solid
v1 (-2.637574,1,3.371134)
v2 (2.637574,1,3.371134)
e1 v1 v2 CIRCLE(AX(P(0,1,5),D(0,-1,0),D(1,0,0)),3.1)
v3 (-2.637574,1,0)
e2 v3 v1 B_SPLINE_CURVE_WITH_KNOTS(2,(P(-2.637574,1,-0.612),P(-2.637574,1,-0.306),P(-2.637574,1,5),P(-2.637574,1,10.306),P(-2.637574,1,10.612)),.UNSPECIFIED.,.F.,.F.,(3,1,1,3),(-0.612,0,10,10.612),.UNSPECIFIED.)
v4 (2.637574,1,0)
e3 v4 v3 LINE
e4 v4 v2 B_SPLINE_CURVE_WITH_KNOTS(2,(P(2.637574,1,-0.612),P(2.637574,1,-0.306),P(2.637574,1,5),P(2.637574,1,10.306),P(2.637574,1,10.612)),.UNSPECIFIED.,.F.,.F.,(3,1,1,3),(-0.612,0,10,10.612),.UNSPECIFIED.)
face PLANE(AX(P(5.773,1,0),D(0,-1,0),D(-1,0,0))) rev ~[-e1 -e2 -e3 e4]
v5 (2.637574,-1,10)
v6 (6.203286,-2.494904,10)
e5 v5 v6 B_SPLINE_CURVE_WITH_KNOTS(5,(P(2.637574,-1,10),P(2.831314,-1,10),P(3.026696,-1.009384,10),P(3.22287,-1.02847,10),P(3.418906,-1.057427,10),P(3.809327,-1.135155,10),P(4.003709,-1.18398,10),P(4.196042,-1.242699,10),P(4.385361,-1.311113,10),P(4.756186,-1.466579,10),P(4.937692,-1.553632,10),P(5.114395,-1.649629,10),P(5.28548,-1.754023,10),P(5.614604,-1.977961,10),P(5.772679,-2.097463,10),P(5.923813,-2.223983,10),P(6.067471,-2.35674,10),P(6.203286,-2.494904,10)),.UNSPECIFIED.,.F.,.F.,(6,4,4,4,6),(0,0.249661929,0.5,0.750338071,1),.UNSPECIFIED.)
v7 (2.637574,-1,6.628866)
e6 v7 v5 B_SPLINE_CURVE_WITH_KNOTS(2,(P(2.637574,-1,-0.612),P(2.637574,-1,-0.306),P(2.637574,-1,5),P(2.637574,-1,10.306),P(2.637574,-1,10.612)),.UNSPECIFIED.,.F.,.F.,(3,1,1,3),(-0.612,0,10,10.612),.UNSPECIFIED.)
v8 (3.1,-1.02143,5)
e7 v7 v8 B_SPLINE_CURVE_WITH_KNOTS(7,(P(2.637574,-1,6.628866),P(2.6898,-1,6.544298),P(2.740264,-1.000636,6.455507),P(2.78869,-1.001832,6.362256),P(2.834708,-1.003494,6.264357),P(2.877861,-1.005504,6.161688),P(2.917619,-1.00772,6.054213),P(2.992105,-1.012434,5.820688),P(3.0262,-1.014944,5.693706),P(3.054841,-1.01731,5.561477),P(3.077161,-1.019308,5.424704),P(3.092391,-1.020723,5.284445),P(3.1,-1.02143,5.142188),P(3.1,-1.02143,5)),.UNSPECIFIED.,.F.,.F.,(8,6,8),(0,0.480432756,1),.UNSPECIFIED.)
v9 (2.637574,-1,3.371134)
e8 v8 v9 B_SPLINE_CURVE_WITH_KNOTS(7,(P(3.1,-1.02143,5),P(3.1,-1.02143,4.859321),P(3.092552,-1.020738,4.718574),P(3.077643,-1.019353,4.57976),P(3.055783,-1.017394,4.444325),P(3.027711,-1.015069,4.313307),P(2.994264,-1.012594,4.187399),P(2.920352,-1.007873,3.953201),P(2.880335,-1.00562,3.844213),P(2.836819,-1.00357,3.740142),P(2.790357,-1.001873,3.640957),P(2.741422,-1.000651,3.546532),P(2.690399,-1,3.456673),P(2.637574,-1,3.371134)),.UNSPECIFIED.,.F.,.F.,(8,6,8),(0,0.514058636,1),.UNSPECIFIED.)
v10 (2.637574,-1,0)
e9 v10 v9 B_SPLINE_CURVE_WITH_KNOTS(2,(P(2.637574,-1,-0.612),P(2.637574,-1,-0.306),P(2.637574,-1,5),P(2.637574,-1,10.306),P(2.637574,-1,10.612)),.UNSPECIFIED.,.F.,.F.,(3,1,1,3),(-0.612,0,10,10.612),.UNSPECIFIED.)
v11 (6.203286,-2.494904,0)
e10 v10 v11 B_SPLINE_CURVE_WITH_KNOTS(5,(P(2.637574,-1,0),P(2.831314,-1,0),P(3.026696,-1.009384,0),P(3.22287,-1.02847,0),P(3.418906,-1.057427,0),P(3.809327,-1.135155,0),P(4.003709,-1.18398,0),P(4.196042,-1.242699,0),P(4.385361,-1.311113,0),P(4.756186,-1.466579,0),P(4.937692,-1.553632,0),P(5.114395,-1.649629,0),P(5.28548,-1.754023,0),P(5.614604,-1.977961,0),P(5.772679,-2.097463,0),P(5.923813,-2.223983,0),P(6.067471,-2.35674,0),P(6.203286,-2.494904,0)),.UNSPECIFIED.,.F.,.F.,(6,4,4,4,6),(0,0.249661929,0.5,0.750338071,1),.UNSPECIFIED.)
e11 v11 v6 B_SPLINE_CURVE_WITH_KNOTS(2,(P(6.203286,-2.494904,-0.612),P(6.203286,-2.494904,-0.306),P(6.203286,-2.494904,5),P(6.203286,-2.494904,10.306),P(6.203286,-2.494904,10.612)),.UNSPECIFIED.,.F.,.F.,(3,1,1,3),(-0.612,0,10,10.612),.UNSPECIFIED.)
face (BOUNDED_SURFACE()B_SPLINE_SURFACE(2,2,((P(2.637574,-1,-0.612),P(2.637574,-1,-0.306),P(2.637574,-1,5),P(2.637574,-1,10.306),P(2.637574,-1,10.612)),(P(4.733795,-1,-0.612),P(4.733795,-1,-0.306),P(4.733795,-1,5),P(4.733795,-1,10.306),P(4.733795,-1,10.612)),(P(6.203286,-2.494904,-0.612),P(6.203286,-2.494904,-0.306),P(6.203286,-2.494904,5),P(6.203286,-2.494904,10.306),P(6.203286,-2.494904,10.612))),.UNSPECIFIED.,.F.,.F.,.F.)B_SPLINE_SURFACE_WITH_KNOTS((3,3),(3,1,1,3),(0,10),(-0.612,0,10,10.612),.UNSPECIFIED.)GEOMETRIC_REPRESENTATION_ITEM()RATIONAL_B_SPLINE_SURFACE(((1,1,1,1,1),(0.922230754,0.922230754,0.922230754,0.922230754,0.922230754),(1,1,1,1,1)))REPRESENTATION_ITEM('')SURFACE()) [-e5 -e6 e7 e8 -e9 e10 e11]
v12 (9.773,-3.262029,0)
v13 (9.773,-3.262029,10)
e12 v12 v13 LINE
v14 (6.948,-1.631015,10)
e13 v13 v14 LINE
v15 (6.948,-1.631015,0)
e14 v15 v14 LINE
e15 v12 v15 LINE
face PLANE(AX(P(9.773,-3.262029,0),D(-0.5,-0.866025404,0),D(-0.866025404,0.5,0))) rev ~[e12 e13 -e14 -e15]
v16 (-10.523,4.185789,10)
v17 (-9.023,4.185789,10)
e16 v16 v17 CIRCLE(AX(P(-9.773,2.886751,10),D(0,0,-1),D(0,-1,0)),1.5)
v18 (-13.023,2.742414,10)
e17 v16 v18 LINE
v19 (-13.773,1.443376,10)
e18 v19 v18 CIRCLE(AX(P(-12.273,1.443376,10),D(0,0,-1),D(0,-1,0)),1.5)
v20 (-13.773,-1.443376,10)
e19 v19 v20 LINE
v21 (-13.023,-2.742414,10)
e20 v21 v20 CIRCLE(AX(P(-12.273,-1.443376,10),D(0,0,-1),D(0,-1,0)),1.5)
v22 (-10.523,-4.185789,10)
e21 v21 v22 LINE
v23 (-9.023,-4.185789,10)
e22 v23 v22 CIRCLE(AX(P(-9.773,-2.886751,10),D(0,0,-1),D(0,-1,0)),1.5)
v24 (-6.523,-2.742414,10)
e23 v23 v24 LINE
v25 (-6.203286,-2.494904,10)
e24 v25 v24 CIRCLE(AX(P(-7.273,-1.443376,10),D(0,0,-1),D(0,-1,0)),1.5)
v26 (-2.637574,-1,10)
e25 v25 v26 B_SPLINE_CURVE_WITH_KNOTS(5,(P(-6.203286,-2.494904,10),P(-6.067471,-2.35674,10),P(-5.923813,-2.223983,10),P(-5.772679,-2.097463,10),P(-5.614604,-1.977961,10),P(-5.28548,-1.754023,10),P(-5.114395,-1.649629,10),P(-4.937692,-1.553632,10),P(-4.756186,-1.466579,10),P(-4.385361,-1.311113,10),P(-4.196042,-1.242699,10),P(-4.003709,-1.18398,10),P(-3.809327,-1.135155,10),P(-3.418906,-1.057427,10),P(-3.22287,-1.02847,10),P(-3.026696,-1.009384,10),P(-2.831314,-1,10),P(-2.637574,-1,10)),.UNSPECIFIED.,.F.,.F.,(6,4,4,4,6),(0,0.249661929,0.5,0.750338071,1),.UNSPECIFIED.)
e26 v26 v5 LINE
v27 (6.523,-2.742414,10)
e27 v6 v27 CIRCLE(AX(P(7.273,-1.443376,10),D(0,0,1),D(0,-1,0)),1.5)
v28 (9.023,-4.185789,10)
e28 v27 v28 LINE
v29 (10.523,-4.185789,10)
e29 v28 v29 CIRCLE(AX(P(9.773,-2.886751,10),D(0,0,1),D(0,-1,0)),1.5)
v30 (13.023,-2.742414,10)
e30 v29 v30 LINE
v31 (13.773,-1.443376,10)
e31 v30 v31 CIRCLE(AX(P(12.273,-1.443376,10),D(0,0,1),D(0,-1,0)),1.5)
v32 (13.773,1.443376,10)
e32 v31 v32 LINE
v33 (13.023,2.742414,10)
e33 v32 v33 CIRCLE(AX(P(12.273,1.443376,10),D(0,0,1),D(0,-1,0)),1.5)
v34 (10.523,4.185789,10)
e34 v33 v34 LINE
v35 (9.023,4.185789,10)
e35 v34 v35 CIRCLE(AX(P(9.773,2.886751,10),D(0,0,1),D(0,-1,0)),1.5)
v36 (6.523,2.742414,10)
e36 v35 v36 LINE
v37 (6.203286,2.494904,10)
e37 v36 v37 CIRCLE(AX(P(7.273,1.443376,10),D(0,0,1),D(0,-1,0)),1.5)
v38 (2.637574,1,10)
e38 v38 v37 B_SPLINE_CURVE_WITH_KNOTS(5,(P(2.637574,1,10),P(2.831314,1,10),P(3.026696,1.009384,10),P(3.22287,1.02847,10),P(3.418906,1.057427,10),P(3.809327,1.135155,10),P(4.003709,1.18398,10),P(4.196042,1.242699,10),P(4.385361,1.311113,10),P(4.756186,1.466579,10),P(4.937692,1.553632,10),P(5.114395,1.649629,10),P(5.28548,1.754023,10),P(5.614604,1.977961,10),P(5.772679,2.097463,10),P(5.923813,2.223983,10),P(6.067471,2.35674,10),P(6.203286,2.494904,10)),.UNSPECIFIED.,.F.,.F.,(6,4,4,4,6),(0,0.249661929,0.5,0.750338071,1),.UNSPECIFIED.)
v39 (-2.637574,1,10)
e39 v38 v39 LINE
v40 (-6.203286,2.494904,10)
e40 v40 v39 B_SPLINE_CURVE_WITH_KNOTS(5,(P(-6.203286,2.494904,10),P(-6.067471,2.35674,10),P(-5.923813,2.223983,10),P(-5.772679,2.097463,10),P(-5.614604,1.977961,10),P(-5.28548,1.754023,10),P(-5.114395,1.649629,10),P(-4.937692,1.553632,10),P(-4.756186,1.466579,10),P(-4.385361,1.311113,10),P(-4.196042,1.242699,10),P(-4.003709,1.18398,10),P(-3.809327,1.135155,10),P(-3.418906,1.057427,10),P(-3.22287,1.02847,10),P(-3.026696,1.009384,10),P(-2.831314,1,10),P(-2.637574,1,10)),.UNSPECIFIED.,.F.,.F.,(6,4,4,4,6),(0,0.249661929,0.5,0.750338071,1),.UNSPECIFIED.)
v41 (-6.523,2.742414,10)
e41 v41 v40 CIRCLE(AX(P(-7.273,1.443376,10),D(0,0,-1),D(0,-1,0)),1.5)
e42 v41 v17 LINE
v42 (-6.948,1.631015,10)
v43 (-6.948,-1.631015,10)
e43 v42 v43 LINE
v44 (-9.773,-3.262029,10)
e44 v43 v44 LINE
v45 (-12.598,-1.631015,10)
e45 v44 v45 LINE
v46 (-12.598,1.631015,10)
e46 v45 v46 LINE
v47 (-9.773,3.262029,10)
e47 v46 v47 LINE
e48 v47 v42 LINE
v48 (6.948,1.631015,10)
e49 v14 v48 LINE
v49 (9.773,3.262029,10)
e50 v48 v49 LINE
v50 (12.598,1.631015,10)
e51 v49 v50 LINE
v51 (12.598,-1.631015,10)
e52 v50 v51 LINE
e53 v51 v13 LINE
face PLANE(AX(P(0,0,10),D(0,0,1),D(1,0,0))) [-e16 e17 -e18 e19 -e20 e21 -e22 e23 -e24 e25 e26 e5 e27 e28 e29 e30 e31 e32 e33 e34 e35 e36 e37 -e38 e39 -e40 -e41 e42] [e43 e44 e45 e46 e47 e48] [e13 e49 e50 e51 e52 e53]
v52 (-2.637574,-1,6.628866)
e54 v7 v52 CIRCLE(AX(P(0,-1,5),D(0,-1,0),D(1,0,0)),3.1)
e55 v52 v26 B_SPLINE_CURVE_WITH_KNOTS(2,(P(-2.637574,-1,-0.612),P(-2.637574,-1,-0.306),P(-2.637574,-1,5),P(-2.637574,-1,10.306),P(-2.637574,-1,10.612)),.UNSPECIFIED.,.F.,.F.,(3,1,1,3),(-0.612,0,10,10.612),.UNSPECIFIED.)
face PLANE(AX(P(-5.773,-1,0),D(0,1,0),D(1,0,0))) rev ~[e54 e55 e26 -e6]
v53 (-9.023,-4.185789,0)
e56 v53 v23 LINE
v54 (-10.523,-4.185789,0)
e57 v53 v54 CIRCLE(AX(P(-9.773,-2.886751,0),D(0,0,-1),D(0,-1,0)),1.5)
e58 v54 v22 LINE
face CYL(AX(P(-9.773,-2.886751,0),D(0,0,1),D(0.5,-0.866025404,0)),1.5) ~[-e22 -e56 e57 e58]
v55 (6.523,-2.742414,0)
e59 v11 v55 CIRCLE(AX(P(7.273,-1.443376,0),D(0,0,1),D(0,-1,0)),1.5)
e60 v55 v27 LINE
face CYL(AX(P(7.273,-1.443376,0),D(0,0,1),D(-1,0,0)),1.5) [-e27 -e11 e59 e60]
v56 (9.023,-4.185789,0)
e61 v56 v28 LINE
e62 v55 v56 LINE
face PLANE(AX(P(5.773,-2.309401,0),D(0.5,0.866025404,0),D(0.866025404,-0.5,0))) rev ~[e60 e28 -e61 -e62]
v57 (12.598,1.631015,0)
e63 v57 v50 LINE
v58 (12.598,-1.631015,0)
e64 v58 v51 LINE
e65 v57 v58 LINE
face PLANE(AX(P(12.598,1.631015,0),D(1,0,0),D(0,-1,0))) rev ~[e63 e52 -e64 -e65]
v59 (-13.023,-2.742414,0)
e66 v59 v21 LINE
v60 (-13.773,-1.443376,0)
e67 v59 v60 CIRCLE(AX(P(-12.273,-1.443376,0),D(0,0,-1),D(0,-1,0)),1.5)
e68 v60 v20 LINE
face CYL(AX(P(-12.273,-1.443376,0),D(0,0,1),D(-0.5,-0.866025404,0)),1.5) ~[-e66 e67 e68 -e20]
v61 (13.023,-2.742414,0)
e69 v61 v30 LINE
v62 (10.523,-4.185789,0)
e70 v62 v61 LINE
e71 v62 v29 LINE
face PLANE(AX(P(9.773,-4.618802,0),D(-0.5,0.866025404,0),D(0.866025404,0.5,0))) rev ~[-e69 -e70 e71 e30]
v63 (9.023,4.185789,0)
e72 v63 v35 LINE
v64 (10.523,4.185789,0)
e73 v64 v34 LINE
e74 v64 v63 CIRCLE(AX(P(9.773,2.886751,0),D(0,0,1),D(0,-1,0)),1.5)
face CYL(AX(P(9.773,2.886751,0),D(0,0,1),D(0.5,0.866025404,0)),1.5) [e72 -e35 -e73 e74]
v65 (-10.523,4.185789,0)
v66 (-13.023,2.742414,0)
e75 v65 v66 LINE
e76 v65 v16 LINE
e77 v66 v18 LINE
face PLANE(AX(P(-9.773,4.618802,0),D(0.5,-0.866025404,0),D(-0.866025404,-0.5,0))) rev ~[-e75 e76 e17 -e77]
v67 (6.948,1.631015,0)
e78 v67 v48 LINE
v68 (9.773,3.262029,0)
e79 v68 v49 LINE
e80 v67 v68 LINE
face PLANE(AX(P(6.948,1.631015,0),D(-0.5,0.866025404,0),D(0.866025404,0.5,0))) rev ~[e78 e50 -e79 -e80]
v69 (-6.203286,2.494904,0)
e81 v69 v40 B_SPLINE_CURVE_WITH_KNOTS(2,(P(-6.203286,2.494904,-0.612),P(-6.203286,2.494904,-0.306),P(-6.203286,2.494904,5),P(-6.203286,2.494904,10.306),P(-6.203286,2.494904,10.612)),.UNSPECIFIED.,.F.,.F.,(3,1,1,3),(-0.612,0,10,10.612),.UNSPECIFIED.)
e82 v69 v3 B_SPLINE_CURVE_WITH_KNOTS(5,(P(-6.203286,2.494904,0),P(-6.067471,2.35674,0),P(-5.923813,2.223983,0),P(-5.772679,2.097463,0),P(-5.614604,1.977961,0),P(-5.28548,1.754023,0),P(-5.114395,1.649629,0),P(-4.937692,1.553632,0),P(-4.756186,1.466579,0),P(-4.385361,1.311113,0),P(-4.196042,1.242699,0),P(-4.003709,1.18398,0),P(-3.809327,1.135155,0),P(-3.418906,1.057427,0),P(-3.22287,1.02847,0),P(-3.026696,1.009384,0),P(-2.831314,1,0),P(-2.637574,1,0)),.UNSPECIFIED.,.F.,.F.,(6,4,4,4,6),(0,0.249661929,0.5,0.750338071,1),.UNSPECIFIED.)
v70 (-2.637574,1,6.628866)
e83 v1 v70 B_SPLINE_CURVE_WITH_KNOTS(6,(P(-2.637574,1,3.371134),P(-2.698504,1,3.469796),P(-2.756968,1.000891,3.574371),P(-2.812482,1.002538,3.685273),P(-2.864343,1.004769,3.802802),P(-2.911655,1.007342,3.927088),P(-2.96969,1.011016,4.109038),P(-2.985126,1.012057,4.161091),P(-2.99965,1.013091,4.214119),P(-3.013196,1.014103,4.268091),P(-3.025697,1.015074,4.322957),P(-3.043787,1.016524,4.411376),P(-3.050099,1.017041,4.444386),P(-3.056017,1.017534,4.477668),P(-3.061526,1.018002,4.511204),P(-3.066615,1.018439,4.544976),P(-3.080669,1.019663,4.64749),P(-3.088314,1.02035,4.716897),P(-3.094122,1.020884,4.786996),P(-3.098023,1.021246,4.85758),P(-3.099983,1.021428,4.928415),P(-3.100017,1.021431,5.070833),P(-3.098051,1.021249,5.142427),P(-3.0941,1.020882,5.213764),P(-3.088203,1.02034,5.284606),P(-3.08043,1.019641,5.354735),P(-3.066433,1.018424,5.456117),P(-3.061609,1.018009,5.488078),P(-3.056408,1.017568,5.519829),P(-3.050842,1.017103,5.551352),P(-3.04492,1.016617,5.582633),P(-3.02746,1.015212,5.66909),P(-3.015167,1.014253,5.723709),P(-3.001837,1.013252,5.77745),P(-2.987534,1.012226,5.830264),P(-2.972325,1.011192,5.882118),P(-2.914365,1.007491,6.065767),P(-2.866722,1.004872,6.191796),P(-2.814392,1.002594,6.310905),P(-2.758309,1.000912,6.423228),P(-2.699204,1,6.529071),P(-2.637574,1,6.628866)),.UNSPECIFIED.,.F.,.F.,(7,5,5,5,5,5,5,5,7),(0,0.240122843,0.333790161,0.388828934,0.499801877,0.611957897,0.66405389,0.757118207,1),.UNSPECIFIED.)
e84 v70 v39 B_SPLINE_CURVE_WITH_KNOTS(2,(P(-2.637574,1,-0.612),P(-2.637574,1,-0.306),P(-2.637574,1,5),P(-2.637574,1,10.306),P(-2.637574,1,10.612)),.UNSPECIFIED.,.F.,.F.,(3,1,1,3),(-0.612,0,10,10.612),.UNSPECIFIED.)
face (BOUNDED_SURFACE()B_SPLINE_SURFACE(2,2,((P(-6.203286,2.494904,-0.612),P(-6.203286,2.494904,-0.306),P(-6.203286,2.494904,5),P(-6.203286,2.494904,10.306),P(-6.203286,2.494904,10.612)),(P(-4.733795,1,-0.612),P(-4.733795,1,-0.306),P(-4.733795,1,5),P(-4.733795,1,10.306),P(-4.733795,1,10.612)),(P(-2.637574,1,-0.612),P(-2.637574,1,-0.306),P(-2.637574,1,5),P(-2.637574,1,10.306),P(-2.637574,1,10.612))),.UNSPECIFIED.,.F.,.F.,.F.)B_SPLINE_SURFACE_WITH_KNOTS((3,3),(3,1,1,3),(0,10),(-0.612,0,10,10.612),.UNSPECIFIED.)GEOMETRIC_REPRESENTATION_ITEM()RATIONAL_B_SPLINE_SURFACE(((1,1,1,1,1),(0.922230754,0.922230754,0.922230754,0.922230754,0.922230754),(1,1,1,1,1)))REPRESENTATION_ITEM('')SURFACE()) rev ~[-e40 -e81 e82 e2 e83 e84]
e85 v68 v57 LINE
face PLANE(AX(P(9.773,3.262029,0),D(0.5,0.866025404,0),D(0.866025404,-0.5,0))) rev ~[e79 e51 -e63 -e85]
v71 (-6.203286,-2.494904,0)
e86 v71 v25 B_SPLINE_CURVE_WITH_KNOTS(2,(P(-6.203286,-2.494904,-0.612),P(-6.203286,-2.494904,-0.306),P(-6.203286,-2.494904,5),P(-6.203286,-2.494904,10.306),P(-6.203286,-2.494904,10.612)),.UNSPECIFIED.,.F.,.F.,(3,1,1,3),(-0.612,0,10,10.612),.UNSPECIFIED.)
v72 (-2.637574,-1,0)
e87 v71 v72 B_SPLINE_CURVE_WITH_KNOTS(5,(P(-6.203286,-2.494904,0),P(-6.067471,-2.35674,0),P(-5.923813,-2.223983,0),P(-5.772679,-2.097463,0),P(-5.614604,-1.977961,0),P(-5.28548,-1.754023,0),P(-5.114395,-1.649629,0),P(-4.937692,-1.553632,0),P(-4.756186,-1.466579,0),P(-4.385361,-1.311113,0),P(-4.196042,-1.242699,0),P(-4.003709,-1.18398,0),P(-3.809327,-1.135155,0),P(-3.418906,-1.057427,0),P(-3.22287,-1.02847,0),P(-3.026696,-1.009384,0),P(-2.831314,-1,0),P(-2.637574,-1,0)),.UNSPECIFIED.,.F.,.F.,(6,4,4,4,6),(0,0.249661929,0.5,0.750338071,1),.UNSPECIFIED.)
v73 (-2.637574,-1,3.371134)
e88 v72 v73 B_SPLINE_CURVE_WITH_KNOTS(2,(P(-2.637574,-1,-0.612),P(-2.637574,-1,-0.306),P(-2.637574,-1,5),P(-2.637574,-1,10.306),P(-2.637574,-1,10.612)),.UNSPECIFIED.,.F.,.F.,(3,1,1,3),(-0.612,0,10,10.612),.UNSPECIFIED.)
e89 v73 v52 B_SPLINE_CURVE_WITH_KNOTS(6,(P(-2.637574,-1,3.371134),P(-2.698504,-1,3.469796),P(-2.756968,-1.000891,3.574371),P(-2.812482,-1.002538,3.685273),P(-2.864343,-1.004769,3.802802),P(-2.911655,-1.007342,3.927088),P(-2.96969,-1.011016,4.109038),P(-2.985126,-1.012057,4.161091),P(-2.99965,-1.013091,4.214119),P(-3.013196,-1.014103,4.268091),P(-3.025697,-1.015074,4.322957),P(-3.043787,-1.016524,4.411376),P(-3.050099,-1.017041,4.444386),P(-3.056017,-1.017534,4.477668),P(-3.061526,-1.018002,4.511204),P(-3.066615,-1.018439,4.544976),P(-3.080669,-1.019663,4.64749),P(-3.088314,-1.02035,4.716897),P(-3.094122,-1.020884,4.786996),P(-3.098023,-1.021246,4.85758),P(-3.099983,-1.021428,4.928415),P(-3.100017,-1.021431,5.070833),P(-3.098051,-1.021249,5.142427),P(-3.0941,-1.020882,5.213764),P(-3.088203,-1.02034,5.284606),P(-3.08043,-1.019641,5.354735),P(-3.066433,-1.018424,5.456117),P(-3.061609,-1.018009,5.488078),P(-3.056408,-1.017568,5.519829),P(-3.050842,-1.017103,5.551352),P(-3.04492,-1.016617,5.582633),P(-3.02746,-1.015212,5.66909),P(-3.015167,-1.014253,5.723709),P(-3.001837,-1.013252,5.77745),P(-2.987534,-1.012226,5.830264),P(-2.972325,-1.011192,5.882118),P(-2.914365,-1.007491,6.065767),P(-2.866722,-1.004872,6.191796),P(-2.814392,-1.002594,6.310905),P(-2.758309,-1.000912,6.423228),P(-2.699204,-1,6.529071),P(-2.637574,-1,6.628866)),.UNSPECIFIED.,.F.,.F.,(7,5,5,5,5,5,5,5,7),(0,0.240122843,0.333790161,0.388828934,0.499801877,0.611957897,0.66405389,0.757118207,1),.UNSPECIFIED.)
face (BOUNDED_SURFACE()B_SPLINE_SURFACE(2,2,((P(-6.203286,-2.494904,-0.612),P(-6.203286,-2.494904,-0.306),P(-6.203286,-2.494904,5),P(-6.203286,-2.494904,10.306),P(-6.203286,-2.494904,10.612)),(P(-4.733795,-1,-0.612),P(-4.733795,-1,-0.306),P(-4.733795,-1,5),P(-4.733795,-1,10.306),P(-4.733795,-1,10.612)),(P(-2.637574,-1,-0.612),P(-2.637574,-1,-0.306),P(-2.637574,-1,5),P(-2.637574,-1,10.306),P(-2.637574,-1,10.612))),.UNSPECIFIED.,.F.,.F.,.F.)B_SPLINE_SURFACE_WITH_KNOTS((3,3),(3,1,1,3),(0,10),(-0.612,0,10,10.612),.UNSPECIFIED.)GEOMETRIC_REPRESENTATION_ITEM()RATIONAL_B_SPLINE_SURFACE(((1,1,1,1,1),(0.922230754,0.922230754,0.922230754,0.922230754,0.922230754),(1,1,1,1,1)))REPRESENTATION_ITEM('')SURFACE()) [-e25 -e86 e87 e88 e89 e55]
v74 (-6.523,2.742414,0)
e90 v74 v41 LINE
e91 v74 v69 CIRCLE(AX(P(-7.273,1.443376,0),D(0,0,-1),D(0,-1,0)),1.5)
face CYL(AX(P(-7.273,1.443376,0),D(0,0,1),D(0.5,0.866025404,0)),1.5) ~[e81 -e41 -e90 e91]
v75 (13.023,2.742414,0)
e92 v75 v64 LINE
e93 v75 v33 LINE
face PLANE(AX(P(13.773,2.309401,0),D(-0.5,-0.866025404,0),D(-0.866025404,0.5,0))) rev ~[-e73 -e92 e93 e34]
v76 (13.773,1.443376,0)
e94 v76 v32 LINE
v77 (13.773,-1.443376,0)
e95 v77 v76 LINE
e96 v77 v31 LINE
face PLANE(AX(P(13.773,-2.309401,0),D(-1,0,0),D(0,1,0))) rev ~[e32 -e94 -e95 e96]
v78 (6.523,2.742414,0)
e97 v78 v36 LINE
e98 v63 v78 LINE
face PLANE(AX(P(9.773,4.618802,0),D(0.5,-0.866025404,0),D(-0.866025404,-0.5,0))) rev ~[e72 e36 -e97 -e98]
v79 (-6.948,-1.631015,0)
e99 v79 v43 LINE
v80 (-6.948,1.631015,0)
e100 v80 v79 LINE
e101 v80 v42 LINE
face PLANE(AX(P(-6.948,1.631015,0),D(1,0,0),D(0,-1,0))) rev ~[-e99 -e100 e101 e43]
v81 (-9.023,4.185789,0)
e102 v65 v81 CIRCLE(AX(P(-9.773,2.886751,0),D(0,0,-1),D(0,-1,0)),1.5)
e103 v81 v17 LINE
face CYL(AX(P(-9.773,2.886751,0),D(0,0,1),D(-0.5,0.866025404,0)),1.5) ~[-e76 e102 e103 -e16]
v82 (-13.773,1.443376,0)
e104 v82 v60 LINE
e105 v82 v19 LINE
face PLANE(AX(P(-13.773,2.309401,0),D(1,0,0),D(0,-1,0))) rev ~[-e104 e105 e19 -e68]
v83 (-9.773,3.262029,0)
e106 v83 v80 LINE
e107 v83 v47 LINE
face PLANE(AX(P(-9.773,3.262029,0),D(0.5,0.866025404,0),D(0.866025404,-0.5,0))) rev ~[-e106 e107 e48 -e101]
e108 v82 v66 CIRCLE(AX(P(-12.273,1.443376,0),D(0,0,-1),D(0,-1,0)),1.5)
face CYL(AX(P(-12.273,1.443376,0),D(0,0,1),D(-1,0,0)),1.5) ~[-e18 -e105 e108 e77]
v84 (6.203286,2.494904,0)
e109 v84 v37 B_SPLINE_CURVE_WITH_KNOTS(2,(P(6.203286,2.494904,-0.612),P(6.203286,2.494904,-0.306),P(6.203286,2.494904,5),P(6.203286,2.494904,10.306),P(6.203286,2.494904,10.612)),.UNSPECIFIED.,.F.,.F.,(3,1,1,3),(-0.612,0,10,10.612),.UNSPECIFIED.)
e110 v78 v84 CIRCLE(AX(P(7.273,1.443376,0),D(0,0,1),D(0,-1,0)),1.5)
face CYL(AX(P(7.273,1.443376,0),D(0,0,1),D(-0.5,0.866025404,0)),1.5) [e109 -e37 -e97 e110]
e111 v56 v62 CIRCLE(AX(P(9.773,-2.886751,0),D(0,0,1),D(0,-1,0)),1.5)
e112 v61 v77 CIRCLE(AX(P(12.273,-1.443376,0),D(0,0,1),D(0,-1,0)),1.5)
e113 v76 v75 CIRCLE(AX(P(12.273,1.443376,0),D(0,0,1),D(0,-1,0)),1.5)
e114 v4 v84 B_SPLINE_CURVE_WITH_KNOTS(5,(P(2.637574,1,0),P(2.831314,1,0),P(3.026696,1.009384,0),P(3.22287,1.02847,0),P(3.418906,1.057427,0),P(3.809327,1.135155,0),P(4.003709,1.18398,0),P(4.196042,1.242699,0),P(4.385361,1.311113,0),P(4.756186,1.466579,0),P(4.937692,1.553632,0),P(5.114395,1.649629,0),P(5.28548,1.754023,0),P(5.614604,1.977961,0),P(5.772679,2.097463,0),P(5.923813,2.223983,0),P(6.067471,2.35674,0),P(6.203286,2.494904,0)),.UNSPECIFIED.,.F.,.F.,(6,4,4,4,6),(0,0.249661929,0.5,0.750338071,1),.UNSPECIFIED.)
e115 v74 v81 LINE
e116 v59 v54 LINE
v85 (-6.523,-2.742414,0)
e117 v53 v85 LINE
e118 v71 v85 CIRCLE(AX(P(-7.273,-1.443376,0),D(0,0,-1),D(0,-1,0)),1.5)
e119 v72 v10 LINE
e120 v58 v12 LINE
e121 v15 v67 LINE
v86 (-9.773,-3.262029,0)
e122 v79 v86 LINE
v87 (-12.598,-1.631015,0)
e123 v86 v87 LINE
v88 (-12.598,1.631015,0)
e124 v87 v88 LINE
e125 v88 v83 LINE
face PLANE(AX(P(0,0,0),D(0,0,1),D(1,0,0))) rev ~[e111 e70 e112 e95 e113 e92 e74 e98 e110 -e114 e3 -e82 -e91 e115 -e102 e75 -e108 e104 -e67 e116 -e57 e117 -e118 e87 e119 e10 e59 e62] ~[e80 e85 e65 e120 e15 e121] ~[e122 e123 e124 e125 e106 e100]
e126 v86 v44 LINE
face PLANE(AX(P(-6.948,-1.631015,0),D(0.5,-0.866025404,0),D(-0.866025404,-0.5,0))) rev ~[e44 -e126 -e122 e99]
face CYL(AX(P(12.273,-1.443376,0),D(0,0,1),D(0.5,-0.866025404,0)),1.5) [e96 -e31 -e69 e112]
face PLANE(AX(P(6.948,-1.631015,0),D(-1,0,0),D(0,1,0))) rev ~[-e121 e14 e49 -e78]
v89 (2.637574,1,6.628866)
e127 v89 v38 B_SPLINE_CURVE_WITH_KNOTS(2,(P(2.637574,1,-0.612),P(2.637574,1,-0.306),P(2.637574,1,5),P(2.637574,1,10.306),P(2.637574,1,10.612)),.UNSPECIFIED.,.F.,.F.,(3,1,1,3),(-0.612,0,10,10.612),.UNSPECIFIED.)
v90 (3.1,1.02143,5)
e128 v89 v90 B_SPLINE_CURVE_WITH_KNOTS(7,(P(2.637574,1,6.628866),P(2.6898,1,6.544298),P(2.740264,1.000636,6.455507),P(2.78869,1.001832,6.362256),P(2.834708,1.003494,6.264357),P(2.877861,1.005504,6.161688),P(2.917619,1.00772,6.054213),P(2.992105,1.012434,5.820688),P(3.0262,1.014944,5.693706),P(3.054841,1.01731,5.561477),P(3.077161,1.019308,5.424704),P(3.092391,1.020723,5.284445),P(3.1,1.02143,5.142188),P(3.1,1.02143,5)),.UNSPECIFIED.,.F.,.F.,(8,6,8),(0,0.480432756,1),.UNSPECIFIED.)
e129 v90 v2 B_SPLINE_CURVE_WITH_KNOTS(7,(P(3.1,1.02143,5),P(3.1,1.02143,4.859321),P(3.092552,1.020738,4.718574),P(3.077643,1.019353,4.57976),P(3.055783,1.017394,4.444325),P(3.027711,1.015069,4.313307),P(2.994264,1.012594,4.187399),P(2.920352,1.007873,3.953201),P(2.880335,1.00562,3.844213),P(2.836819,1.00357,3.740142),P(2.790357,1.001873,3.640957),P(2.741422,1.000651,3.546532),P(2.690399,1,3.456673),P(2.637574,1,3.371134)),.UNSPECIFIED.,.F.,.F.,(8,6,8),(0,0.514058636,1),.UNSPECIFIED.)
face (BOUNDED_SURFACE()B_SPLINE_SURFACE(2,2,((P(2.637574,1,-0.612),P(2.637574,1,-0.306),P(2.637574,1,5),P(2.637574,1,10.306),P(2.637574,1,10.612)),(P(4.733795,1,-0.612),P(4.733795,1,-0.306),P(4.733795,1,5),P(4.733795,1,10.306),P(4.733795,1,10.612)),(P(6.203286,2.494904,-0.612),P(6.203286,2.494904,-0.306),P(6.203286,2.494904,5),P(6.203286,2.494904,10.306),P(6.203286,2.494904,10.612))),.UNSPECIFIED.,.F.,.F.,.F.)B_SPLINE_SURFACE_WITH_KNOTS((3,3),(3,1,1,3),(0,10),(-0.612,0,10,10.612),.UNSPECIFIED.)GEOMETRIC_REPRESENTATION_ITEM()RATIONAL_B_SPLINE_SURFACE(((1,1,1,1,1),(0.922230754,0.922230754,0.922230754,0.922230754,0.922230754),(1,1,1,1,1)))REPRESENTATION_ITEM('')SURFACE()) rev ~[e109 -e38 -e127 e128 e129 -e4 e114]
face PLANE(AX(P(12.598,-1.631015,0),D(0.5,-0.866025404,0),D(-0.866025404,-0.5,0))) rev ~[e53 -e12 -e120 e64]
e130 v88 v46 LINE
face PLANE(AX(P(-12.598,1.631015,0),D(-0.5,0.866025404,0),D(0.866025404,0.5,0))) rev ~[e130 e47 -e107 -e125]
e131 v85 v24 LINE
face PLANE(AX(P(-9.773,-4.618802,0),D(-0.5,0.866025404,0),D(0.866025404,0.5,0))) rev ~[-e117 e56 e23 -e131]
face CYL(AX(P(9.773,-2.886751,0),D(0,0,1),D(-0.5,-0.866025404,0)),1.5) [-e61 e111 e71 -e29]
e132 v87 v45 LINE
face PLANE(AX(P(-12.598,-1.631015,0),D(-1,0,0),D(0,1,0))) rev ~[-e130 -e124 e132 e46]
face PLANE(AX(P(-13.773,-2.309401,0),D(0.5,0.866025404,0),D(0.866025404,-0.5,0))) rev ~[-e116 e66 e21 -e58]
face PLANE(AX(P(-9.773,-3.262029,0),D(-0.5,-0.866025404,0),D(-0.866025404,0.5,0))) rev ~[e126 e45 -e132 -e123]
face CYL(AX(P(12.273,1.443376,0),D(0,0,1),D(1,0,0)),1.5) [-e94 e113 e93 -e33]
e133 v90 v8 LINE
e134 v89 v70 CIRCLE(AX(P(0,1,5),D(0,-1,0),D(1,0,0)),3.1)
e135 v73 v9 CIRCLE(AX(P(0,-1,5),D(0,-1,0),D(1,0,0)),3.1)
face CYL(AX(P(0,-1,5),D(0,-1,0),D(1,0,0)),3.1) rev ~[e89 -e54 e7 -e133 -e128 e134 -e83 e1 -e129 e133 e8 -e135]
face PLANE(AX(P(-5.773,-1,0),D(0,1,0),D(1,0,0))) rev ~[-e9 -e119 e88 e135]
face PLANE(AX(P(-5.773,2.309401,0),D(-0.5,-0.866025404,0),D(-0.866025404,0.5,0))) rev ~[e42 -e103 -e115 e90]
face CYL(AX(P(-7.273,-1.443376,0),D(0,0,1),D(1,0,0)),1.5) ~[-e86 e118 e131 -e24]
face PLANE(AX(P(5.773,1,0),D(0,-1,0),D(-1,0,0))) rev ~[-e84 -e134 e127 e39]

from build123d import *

# Parameters (mm, degrees)
F1_DEPTH = 10
F2_R     = 1.5
F4_R     = 5
F3_R     = 3.1
F5_DEPTH = 2.5


with BuildPart() as f1:
    # F0 (on Top) → F1 (new body)
    with BuildSketch(Plane.XY):
        Polygon((0, 1), (-5.773, 1), (-5.773, -1), (0, -1), (5.773, -1), (5.773, 1), align=None)
        Polygon((-5.773, 1), (-5.773, 2.3094010768), (-9.773, 4.6188021535), (-13.773, 2.3094010768), (-13.773, -2.3094010768), (-9.773, -4.6188021535), (-5.773, -2.3094010768), (-5.773, -1), align=None)
        Polygon((-9.773, 3.2620290209), (-6.948, 1.6310145105), (-6.948, -1.6310145105), (-9.773, -3.2620290209), (-12.598, -1.6310145105), (-12.598, 1.6310145105), align=None, mode=Mode.SUBTRACT)
        Polygon((5.773, 2.3094010768), (5.773, 1), (5.773, -1), (5.773, -2.3094010768), (9.773, -4.6188021535), (13.773, -2.3094010768), (13.773, 2.3094010768), (9.773, 4.6188021535), align=None)
        Polygon((6.948, 1.6310145105), (9.773, 3.2620290209), (12.598, 1.6310145105), (12.598, -1.6310145105), (9.773, -3.2620290209), (6.948, -1.6310145105), align=None, mode=Mode.SUBTRACT)
    extrude(amount=F1_DEPTH)

    # F2
    f2_edges = [f1.edges().sort_by_distance(p)[0] for p in [
        (-9.773, -4.618802, 5),
        (-13.773, -2.309401, 5),
        (-13.773, 2.309401, 5),
        (-9.773, 4.618802, 5),
        (-5.773, 2.309401, 5),
        (-5.773, -2.309401, 5),
        (5.773, 2.309401, 5),
        (9.773, 4.618802, 5),
        (13.773, 2.309401, 5),
        (13.773, -2.309401, 5),
        (9.773, -4.618802, 5),
        (5.773, -2.309401, 5),
    ]]
    fillet(f2_edges, radius=F2_R)

    # F4
    f4_edges = [f1.edges().sort_by_distance(p)[0] for p in [
        (-5.773, -1, 5),
        (-5.773, 1, 5),
        (5.773, 1, 5),
        (5.773, -1, 5),
    ]]
    fillet(f4_edges, radius=F4_R)

    # F3 (on face) → F5 (cut, symmetric)
    with BuildSketch(Plane.XZ.offset(1)):
        with Locations((0, 5)):
            Circle(F3_R)
    extrude(amount=F5_DEPTH, both=True, mode=Mode.SUBTRACT)


solid = f1.part
